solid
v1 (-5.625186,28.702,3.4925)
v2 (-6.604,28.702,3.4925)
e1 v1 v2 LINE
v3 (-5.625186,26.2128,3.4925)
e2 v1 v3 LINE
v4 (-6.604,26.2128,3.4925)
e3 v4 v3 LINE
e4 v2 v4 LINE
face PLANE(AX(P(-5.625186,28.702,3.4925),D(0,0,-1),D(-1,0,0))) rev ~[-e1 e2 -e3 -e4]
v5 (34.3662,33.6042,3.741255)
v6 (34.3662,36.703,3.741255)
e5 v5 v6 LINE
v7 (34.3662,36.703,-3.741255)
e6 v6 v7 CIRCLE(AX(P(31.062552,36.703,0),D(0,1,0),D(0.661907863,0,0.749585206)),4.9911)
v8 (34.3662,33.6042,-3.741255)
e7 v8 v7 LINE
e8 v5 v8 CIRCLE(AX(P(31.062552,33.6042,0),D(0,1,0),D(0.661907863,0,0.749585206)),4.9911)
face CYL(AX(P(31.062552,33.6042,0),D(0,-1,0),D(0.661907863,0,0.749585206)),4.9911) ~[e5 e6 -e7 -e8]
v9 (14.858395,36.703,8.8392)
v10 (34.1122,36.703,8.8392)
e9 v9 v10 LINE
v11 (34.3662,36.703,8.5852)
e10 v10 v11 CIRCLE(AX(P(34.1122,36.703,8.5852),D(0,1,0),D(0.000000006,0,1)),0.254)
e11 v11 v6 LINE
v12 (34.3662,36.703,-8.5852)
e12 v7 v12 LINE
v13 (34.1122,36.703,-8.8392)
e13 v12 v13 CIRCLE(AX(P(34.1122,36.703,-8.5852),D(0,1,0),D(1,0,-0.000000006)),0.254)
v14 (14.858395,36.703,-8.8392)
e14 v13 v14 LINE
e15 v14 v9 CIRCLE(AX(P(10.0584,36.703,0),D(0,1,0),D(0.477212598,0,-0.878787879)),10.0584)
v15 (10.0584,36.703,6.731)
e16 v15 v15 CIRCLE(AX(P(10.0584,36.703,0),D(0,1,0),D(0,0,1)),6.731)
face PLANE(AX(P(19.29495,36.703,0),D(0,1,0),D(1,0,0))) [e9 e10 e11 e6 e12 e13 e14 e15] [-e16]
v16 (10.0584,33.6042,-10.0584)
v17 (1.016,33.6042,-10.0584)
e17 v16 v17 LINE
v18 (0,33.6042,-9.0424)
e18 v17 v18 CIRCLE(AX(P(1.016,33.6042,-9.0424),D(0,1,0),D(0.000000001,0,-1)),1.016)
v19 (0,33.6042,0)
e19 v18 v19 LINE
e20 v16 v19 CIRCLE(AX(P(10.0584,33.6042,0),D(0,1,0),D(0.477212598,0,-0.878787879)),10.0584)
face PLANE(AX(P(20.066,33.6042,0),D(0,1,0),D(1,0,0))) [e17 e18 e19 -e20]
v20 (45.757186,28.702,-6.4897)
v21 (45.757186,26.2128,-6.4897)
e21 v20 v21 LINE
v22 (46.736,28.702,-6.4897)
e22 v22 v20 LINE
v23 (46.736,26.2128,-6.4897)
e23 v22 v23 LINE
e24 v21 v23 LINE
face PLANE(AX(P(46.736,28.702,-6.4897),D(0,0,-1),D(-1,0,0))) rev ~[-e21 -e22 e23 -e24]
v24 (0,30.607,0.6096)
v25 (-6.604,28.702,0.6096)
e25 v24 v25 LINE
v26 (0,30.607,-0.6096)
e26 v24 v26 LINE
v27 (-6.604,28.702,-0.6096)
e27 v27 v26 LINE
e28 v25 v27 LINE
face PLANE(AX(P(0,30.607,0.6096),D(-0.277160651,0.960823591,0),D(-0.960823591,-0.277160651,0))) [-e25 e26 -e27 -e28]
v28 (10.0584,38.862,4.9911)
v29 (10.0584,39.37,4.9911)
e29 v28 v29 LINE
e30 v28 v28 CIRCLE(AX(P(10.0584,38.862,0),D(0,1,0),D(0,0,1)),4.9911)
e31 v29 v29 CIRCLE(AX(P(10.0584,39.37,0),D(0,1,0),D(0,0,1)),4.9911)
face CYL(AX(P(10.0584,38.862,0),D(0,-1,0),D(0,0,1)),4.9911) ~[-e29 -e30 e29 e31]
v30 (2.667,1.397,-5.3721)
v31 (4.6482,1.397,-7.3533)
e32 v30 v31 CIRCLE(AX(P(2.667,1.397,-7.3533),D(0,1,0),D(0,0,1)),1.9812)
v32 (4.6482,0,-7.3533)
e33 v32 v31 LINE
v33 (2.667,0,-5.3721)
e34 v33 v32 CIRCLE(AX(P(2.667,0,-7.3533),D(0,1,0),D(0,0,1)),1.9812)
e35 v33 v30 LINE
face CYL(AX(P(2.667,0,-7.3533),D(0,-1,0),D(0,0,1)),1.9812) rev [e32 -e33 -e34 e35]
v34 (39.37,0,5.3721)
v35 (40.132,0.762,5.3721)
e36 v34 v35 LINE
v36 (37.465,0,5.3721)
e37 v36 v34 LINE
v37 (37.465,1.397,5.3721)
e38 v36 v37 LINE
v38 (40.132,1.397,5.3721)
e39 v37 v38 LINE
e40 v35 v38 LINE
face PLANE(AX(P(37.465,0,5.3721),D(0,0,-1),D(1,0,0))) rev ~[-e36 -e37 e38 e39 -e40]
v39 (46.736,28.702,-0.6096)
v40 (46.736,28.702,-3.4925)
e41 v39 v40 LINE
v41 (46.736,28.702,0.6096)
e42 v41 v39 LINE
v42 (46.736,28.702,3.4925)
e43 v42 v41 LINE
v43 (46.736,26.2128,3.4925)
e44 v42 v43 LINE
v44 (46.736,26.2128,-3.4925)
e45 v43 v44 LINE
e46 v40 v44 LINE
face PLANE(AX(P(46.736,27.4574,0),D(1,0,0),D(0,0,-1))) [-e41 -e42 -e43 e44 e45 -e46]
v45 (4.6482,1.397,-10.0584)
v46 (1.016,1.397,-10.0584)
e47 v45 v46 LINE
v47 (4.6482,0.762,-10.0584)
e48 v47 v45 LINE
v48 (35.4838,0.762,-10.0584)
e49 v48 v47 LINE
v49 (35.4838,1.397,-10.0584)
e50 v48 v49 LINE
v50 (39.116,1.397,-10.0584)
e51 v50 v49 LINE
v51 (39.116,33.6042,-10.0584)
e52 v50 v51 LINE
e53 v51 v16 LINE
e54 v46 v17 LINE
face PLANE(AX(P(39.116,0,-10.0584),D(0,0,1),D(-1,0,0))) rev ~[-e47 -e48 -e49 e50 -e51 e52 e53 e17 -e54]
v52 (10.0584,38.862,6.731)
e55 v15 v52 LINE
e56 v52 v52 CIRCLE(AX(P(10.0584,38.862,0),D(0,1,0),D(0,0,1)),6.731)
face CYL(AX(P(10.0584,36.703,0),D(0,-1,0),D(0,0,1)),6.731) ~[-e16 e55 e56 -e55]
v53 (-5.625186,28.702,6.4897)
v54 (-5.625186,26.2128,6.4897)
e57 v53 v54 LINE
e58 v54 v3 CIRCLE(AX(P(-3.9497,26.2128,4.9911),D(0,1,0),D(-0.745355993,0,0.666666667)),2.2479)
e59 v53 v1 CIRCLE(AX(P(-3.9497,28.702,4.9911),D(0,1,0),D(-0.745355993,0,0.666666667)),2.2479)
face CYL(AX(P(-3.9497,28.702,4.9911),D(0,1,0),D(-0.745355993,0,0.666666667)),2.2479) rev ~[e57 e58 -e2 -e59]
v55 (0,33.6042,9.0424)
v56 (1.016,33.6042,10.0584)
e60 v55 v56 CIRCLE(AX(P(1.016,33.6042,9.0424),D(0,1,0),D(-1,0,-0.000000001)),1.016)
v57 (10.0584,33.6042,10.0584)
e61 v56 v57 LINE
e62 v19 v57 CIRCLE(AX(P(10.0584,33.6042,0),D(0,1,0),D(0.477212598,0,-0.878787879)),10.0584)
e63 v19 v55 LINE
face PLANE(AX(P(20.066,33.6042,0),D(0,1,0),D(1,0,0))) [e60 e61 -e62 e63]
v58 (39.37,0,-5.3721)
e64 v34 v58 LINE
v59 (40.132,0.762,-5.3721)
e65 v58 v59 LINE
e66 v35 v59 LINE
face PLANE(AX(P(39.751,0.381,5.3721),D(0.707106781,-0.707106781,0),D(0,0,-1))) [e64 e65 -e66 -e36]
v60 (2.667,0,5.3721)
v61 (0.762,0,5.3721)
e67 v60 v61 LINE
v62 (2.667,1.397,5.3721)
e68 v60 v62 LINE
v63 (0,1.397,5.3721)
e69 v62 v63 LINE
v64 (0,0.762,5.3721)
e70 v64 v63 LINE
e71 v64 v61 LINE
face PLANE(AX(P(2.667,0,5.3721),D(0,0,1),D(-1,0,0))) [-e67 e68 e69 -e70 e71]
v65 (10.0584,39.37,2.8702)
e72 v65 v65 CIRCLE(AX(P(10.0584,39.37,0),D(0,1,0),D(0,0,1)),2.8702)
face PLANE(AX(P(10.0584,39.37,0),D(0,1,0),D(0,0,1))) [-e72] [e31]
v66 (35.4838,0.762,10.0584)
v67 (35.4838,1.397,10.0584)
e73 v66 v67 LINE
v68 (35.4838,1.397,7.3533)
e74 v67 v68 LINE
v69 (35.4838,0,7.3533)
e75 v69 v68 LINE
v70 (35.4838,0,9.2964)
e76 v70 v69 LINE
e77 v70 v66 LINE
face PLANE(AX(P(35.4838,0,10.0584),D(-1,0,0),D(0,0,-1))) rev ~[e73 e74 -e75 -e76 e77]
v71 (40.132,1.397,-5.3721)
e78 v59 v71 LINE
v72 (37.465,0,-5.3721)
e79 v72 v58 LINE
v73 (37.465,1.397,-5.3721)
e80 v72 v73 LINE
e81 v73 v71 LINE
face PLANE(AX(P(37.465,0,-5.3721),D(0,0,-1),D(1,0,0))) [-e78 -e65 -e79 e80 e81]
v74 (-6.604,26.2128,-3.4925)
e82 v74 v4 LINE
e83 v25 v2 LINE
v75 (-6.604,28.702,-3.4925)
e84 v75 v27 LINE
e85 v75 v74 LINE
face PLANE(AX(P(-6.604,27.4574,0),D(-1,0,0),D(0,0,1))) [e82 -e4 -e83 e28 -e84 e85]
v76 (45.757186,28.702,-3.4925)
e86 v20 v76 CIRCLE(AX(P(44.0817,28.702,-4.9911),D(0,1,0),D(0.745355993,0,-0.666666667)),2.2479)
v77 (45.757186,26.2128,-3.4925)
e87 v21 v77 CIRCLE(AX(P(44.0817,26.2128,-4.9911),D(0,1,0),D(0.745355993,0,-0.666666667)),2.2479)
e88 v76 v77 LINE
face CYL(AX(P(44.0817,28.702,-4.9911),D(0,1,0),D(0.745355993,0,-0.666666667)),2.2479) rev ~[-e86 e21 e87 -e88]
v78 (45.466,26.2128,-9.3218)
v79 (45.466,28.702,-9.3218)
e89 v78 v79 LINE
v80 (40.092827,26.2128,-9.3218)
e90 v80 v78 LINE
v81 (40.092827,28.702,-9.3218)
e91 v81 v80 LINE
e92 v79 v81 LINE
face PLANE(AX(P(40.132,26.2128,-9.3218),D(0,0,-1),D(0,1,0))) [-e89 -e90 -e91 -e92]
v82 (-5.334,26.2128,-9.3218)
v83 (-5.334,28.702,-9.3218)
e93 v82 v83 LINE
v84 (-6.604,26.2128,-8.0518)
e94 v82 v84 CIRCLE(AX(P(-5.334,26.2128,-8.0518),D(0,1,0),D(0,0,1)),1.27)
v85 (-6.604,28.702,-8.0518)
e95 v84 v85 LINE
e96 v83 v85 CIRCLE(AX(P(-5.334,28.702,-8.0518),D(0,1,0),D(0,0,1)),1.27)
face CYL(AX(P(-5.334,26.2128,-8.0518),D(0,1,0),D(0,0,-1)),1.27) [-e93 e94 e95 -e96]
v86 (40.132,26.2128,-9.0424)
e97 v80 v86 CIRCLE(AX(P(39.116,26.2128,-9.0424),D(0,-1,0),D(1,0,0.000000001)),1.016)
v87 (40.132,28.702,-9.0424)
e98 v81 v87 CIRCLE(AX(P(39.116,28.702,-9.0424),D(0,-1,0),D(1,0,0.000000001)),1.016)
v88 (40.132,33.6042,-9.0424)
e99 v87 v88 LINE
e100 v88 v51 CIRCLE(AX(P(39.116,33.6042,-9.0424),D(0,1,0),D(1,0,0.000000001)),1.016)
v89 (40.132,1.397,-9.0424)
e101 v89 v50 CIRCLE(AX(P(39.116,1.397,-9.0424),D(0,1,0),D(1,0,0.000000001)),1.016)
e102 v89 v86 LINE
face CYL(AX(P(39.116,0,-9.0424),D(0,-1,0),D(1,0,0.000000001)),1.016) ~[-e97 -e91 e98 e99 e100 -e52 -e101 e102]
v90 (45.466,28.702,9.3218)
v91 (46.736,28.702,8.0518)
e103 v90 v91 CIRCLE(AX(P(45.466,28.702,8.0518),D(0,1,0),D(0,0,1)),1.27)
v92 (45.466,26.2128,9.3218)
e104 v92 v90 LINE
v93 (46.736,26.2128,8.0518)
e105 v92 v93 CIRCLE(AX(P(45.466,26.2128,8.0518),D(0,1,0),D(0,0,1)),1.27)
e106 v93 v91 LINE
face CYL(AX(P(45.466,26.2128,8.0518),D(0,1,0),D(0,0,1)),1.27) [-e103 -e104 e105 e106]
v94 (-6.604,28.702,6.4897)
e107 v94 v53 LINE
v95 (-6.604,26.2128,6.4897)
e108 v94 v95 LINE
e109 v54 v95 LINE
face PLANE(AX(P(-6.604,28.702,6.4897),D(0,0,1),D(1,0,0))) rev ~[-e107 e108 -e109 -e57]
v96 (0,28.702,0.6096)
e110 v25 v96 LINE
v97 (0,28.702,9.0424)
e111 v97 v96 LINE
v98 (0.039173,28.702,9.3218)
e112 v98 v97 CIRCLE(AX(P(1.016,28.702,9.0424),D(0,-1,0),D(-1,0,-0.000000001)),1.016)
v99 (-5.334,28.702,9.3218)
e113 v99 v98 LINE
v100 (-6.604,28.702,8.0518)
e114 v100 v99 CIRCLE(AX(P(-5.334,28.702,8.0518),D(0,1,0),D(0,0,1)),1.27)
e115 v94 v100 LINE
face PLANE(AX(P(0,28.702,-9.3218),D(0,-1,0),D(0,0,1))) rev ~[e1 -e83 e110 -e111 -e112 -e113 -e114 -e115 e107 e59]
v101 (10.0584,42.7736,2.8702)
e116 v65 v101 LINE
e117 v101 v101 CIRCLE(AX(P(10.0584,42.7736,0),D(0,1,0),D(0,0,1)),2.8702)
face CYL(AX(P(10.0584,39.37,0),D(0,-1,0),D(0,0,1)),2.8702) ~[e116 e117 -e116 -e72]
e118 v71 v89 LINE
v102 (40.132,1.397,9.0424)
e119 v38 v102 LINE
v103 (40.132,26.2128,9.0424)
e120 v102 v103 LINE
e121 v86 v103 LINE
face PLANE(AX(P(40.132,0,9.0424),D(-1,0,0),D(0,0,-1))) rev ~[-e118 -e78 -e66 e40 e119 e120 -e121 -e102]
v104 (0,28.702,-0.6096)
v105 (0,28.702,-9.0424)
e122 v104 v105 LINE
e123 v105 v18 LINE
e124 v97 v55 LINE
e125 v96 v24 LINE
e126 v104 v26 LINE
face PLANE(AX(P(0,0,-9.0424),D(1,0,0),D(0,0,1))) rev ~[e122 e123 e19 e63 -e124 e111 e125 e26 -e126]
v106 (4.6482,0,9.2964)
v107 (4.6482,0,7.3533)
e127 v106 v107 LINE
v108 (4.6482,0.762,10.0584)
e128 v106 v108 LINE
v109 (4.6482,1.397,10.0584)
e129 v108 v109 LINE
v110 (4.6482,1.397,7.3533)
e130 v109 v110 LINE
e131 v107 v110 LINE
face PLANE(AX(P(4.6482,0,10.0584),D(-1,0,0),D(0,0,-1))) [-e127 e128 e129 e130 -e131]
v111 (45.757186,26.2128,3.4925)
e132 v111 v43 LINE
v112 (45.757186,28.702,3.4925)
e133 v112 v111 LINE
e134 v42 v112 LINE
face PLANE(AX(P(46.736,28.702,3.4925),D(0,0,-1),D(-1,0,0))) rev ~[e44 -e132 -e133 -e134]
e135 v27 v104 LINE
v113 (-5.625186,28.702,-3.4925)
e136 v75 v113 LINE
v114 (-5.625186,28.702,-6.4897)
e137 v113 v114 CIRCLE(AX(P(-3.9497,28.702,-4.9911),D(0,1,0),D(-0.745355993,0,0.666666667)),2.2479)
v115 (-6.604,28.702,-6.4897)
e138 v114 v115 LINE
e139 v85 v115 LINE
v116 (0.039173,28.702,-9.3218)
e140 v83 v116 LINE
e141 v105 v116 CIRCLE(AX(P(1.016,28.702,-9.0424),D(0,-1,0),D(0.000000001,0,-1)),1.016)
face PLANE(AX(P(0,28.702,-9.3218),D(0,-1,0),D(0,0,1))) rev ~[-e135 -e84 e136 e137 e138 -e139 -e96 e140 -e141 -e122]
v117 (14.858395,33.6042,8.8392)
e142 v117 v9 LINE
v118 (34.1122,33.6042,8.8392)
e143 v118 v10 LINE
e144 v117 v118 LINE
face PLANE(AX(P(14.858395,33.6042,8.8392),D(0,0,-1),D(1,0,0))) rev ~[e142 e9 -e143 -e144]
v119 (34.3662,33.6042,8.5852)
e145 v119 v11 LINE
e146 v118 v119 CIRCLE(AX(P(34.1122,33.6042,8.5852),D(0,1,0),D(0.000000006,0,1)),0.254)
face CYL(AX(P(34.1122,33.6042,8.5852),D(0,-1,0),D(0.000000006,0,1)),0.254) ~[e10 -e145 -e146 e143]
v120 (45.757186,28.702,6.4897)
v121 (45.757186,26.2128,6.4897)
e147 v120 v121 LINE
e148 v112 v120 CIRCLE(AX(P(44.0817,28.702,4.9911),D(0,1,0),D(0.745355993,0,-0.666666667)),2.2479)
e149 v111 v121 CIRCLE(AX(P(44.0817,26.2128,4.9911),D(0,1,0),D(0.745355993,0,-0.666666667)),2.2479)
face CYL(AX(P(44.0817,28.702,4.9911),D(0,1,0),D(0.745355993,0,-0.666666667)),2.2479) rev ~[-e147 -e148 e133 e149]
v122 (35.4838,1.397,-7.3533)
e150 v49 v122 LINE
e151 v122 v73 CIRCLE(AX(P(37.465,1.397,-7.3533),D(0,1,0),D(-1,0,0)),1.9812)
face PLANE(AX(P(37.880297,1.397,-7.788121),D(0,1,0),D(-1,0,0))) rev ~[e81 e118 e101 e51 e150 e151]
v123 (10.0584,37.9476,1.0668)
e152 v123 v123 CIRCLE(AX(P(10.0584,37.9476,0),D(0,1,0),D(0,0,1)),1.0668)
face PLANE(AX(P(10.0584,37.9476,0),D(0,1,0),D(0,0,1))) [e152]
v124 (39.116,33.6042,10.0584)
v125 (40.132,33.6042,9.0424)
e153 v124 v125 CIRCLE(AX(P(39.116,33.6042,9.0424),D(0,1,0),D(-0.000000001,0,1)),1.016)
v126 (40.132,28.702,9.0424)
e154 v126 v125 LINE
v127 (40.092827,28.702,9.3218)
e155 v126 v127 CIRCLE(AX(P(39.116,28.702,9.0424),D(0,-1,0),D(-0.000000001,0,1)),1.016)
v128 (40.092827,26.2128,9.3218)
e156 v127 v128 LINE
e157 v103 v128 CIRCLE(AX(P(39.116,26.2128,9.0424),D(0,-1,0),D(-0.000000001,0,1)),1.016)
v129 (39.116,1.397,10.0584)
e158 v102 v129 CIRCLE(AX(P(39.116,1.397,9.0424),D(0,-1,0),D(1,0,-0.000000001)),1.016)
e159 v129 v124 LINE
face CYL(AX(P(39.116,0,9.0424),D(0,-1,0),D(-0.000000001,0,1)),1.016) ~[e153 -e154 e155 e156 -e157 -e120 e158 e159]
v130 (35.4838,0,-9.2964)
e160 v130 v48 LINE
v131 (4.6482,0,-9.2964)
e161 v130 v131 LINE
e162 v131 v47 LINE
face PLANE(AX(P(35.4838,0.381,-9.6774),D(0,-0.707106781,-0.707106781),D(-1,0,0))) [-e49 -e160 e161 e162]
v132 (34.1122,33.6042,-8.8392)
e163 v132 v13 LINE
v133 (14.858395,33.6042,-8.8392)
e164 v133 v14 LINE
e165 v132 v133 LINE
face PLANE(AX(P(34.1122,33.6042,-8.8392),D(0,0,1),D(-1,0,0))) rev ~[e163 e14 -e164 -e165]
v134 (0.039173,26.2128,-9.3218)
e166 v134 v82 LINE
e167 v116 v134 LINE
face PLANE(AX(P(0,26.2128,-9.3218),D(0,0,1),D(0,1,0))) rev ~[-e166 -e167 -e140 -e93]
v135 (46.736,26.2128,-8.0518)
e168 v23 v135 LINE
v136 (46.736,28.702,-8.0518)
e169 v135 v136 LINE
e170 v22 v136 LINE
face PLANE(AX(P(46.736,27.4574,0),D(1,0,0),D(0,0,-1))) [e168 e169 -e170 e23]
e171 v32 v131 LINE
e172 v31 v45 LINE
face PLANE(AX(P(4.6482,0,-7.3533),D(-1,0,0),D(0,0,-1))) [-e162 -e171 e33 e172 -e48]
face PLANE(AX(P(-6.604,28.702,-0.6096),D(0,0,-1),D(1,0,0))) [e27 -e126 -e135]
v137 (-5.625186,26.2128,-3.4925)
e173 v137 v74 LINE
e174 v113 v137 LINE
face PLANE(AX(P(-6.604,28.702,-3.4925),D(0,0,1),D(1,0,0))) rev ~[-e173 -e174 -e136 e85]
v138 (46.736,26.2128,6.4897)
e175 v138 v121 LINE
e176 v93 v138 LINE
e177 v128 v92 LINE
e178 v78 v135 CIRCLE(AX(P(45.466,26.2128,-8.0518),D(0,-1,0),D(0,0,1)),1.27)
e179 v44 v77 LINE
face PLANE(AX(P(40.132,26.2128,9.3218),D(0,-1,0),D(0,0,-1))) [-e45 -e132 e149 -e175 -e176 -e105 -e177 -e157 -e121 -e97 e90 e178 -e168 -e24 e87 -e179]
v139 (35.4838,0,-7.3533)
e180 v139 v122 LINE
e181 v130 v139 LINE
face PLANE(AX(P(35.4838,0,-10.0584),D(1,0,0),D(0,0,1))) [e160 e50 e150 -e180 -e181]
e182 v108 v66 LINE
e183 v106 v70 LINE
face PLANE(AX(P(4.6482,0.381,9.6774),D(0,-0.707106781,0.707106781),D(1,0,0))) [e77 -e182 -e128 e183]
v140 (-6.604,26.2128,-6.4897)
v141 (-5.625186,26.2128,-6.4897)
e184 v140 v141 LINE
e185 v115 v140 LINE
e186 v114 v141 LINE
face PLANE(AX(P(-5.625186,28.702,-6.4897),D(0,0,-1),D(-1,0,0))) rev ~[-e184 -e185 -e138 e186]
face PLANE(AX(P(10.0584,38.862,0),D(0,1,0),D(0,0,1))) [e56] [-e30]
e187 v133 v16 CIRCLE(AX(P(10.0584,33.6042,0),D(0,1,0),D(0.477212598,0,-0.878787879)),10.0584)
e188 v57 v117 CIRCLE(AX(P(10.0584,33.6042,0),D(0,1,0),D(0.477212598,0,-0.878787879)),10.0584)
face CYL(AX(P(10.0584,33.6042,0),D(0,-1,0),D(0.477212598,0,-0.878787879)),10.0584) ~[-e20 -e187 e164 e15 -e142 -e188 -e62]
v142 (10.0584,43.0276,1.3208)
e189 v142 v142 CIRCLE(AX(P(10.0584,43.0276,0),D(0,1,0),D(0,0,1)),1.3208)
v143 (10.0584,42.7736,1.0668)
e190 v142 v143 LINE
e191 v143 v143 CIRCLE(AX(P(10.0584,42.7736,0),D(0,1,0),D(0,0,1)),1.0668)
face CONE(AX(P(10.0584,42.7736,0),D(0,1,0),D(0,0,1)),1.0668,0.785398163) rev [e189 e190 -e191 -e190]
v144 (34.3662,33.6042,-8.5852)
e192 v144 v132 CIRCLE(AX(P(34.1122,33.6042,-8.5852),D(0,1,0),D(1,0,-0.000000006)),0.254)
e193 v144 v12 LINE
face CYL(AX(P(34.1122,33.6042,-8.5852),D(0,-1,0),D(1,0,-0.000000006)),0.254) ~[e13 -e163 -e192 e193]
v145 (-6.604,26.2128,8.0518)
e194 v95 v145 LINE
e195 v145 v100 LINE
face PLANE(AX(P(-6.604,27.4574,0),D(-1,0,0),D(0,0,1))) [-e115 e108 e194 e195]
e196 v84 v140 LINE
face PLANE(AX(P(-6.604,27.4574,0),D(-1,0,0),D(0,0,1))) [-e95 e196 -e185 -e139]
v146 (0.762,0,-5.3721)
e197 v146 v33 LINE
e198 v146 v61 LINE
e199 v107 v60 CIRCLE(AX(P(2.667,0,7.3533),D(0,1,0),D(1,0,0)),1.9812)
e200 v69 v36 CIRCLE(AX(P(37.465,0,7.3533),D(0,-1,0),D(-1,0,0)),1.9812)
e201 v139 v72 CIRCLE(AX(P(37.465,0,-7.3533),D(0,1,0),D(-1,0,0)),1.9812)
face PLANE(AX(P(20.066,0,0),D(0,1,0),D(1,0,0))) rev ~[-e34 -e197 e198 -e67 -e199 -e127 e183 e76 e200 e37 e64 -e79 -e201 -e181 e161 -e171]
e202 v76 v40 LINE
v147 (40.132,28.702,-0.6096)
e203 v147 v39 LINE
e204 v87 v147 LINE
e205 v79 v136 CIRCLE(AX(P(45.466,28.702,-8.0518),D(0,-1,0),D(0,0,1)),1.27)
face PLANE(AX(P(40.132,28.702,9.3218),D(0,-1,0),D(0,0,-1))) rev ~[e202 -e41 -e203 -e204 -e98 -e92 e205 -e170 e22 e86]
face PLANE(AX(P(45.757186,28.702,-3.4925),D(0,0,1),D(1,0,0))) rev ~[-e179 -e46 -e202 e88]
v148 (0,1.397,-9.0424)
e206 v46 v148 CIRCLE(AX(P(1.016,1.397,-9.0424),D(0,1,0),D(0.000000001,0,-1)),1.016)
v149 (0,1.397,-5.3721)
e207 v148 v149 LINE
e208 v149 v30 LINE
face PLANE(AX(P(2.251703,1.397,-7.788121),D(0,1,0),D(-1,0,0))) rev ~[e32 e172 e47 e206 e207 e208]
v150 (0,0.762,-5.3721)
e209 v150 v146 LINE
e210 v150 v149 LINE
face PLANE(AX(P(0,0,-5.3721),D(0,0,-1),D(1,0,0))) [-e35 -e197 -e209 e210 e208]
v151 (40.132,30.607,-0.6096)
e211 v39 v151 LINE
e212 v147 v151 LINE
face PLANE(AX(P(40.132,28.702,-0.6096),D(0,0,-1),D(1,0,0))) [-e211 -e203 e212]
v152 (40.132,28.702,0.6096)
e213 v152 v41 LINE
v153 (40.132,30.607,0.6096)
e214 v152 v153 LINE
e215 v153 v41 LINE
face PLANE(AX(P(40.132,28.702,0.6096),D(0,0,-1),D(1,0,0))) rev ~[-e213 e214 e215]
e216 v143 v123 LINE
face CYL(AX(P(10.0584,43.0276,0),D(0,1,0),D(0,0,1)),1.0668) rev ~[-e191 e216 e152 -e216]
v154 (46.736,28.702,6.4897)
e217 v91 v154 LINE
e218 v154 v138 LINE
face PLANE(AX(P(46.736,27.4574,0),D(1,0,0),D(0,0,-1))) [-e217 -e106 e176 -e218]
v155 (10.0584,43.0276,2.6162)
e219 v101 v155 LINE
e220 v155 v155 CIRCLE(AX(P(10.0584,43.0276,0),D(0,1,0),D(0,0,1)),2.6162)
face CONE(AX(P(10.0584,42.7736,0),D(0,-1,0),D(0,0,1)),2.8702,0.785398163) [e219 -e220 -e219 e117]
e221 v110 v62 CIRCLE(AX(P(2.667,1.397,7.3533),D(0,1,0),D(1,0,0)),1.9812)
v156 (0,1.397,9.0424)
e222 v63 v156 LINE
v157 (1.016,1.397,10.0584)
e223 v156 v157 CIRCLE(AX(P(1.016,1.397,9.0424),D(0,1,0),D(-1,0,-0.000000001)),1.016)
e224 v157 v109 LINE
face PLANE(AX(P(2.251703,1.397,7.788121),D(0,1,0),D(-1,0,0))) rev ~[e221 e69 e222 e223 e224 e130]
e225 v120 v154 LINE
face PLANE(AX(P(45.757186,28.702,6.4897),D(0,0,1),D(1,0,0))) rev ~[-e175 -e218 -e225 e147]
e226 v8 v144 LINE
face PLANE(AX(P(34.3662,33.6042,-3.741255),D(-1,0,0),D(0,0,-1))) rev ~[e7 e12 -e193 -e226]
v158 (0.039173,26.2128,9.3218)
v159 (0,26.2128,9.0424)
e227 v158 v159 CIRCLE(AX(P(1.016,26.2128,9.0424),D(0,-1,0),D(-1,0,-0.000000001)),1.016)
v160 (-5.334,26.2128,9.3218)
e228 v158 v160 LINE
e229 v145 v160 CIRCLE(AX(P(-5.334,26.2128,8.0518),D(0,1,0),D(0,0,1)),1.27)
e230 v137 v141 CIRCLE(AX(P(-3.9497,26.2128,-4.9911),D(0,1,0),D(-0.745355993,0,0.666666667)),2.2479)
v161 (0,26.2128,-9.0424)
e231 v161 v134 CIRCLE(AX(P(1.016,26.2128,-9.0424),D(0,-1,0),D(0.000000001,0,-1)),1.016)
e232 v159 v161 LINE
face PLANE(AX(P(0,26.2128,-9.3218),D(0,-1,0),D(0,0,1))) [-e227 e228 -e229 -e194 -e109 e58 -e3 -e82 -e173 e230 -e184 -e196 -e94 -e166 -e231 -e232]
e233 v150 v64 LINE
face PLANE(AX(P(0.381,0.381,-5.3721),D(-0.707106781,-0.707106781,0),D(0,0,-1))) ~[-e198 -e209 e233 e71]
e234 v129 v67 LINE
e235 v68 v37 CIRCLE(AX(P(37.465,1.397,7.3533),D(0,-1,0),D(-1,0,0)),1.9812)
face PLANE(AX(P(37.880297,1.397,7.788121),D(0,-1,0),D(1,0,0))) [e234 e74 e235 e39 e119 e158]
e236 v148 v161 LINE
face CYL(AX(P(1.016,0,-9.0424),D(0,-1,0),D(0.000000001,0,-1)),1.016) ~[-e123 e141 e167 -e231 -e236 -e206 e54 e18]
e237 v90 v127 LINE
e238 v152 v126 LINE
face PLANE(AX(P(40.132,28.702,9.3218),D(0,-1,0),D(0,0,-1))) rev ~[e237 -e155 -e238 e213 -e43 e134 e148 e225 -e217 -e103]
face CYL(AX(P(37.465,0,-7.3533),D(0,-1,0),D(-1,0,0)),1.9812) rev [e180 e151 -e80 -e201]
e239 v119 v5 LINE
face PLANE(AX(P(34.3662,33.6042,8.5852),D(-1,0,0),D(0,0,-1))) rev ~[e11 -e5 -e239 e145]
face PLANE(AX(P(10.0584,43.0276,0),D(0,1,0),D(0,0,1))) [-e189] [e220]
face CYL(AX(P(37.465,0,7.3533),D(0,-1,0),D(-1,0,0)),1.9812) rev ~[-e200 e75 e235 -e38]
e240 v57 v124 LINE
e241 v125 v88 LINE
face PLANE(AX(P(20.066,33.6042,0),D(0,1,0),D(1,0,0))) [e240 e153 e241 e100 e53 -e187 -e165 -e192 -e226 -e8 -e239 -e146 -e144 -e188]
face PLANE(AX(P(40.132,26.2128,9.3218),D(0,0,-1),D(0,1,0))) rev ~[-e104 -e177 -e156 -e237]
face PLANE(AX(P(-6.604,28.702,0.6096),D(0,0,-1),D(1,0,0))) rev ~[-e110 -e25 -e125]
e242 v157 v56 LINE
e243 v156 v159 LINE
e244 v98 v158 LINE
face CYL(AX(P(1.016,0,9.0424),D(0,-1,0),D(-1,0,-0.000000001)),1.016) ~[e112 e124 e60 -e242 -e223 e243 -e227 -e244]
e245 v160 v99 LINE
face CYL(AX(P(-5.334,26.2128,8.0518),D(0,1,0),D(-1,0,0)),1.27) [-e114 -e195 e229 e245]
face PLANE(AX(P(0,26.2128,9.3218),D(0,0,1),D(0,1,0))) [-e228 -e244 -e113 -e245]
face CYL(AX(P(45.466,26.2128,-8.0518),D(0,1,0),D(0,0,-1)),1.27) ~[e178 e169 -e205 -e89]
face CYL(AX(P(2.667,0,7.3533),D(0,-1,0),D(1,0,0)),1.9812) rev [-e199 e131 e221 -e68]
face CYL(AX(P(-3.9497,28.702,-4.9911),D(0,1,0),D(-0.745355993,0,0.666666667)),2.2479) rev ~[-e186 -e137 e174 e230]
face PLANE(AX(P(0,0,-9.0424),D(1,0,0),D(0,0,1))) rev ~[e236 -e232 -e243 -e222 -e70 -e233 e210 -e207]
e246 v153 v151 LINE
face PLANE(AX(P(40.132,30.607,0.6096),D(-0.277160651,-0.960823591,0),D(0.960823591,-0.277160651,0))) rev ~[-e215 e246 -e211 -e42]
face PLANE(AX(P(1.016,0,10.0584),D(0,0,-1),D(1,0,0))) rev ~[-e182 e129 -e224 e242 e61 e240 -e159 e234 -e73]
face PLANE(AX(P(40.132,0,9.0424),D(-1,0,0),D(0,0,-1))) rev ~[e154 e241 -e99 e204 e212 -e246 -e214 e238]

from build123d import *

# Parameters (mm, degrees)
BOSS_EXTRUDE1_DEPTH = 33.6042
CUT_EXTRUDE1_DEPTH  = 1.397
CHAMFER1_SIZE       = 0.762
SKETCH3_W           = 18.6436
SKETCH3_H           = 2.4892
BOSS_EXTRUDE2_DEPTH = 6.604
SKETCH4_W           = 18.6436
SKETCH4_H           = 2.4892
BOSS_EXTRUDE3_DEPTH = 6.604
FILLET1_R           = 1.27
CUT_EXTRUDE2_DEPTH  = 3.048
SKETCH6_W           = 6.604
SKETCH6_H           = 1.2192
BOSS_EXTRUDE4_DEPTH = 1.905
CUT_EXTRUDE3_DEPTH  = 1.905
BOSS_EXTRUDE5_DEPTH = 3.0988
SKETCH9_R           = 6.731
BOSS_EXTRUDE6_DEPTH = 2.159
SKETCH10_R          = 4.9911
BOSS_EXTRUDE7_DEPTH = 0.508
SKETCH11_R          = 2.8702
BOSS_EXTRUDE8_DEPTH = 3.6576
SKETCH12_R          = 1.0668
CUT_EXTRUDE4_DEPTH  = 5.08
CHAMFER2_SIZE       = 0.254


with BuildPart() as part:
    # Sketch1 → Boss-Extrude1 (new body)
    with BuildSketch(Plane(origin=(0, 0, 0), x_dir=(1, 0, 0), z_dir=(0, 1, 0))):
        with BuildLine():
            Line((0, 9.0424), (0, -9.0424))
            ThreePointArc((0, -9.0424), (0.29757951, -9.76082049), (1.016, -10.0584))
            Line((1.016, -10.0584), (39.116, -10.0584))
            ThreePointArc((39.116, -10.0584), (39.83442049, -9.76082049), (40.132, -9.0424))
            Line((40.132, -9.0424), (40.132, 9.0424))
            ThreePointArc((40.132, 9.0424), (39.83442049, 9.76082049), (39.116, 10.0584))
            Line((39.116, 10.0584), (1.016, 10.0584))
            ThreePointArc((1.016, 10.0584), (0.29757951, 9.76082049), (0, 9.0424))
        make_face()
    extrude(amount=BOSS_EXTRUDE1_DEPTH)

    # Sketch2 → Cut-Extrude1 (cut)
    with BuildSketch(Plane.XZ):
        with BuildLine():
            Line((4.6482, 10.0584), (4.6482, 7.3533))
            ThreePointArc((4.6482, 7.3533), (4.067919955, 5.952380045), (2.667, 5.3721))
            Line((2.667, 5.3721), (0, 5.3721))
            Line((0, 5.3721), (0, 9.0424))
            ThreePointArc((0, 9.0424), (0.29757951, 9.76082049), (1.016, 10.0584))
            Line((1.016, 10.0584), (4.6482, 10.0584))
        make_face()
        with BuildLine():
            Line((35.4838, 10.0584), (35.4838, 7.3533))
            ThreePointArc((35.4838, 7.3533), (36.064080045, 5.952380045), (37.465, 5.3721))
            Line((37.465, 5.3721), (40.132, 5.3721))
            Line((40.132, 5.3721), (40.132, 9.0424))
            ThreePointArc((40.132, 9.0424), (39.83442049, 9.76082049), (39.116, 10.0584))
            Line((39.116, 10.0584), (35.4838, 10.0584))
        make_face()
        with BuildLine():
            Line((0, -5.3721), (2.667, -5.3721))
            ThreePointArc((2.667, -5.3721), (4.067919955, -5.952380045), (4.6482, -7.3533))
            Line((4.6482, -7.3533), (4.6482, -10.0584))
            Line((4.6482, -10.0584), (1.016, -10.0584))
            ThreePointArc((1.016, -10.0584), (0.29757951, -9.76082049), (0, -9.0424))
            Line((0, -9.0424), (0, -5.3721))
        make_face()
        with BuildLine():
            Line((37.465, -5.3721), (40.132, -5.3721))
            Line((40.132, -5.3721), (40.132, -9.0424))
            ThreePointArc((40.132, -9.0424), (39.83442049, -9.76082049), (39.116, -10.0584))
            Line((39.116, -10.0584), (35.4838, -10.0584))
            Line((35.4838, -10.0584), (35.4838, -7.3533))
            ThreePointArc((35.4838, -7.3533), (36.064080045, -5.952380045), (37.465, -5.3721))
        make_face()
    extrude(amount=-CUT_EXTRUDE1_DEPTH, mode=Mode.SUBTRACT)

    # Chamfer1
    chamfer1_edges = [part.edges().sort_by_distance(p)[0] for p in [
        (20.066, 0, 10.0584),
        (0, 0, 0),
        (40.132, 0, 0),
        (20.066, 0, -10.0584),
    ]]
    chamfer(chamfer1_edges, length=CHAMFER1_SIZE)

    # Sketch3 → Boss-Extrude2 (add, symmetric)
    with BuildSketch(Plane(origin=(40.132, 0, 0), x_dir=(0, 0, -1), z_dir=(1, 0, 0))):
        with Locations((0, 27.4574)):
            Rectangle(SKETCH3_W, SKETCH3_H)
    extrude(amount=BOSS_EXTRUDE2_DEPTH, both=True)

    # Sketch4 → Boss-Extrude3 (add, symmetric)
    with BuildSketch(Plane.ZY):
        with Locations((0, 27.4574)):
            Rectangle(SKETCH4_W, SKETCH4_H)
    extrude(amount=BOSS_EXTRUDE3_DEPTH, both=True)

    # Fillet1
    fillet1_edges = [part.edges().sort_by_distance(p)[0] for p in [
        (46.736, 27.4574, 9.3218),
        (46.736, 27.4574, -9.3218),
        (-6.604, 27.4574, -9.3218),
        (-6.604, 27.4574, 9.3218),
    ]]
    fillet(fillet1_edges, radius=FILLET1_R)

    # Sketch5 → Cut-Extrude2 (cut)
    with BuildSketch(Plane(origin=(0, 28.702, 0), x_dir=(1, 0, 0), z_dir=(0, 1, 0))):
        with BuildLine():
            Line((-6.604, 3.4925), (-5.625185736, 3.4925))
            ThreePointArc((-5.625185736, 3.4925), (-1.7018, 4.9911), (-5.625185736, 6.4897))
            Line((-5.625185736, 6.4897), (-6.604, 6.4897))
            Line((-6.604, 6.4897), (-6.604, 3.4925))
        make_face()
        with BuildLine():
            Line((-6.604, -6.4897), (-5.625185736, -6.4897))
            ThreePointArc((-5.625185736, -6.4897), (-1.7018, -4.9911), (-5.625185736, -3.4925))
            Line((-5.625185736, -3.4925), (-6.604, -3.4925))
            Line((-6.604, -3.4925), (-6.604, -6.4897))
        make_face()
        with BuildLine():
            Line((45.757185736, -6.4897), (46.736, -6.4897))
            Line((46.736, -6.4897), (46.736, -3.4925))
            Line((46.736, -3.4925), (45.757185736, -3.4925))
            ThreePointArc((45.757185736, -3.4925), (41.8338, -4.9911), (45.757185736, -6.4897))
        make_face()
        with BuildLine():
            Line((45.757185736, 3.4925), (46.736, 3.4925))
            Line((46.736, 3.4925), (46.736, 6.4897))
            Line((46.736, 6.4897), (45.757185736, 6.4897))
            ThreePointArc((45.757185736, 6.4897), (41.8338, 4.9911), (45.757185736, 3.4925))
        make_face()
    extrude(amount=-CUT_EXTRUDE2_DEPTH, mode=Mode.SUBTRACT)

    # Sketch6 → Boss-Extrude4 (add)
    with BuildSketch(Plane(origin=(0, 28.702, 0), x_dir=(1, 0, 0), z_dir=(0, 1, 0))):
        with Locations((-3.302, 0)):
            Rectangle(SKETCH6_W, SKETCH6_H)
        with Locations((43.434, 0)):
            Rectangle(SKETCH6_W, SKETCH6_H)
    extrude(amount=BOSS_EXTRUDE4_DEPTH)

    # Sketch7 → Cut-Extrude3 (cut)
    with BuildSketch(Plane.XY.offset(0.6096)):
        Polygon((40.132, 30.607), (46.736, 28.702), (46.736, 30.607), align=None)
        Polygon((0, 30.607), (-6.604, 28.702), (-6.604, 30.607), align=None)
    extrude(amount=-CUT_EXTRUDE3_DEPTH, mode=Mode.SUBTRACT)

    # Sketch8 → Boss-Extrude5 (add)
    with BuildSketch(Plane(origin=(0, 33.6042, 0), x_dir=(1, 0, 0), z_dir=(0, 1, 0))):
        with BuildLine():
            Line((14.8583952, -8.8392), (34.1122, -8.8392))
            ThreePointArc((34.1122, -8.8392), (34.291805122, -8.764805122), (34.3662, -8.5852))
            Line((34.3662, -8.5852), (34.3662, -3.741254719))
            ThreePointArc((34.3662, -3.741254719), (36.053651663, 0), (34.3662, 3.741254719))
            Line((34.3662, 3.741254719), (34.3662, 8.5852))
            ThreePointArc((34.3662, 8.5852), (34.291805122, 8.764805122), (34.1122, 8.8392))
            Line((34.1122, 8.8392), (14.8583952, 8.8392))
            ThreePointArc((14.8583952, 8.8392), (0, 0), (14.8583952, -8.8392))
        make_face()
    extrude(amount=BOSS_EXTRUDE5_DEPTH)

    # Sketch9 → Boss-Extrude6 (add)
    with BuildSketch(Plane(origin=(0, 36.703, 0), x_dir=(1, 0, 0), z_dir=(0, 1, 0))):
        with Locations(Location((10.0584, 0, 0), (0, 0, 270))):
            Circle(SKETCH9_R)
    extrude(amount=BOSS_EXTRUDE6_DEPTH)

    # Sketch10 → Boss-Extrude7 (add)
    with BuildSketch(Plane(origin=(0, 38.862, 0), x_dir=(1, 0, 0), z_dir=(0, 1, 0))):
        with Locations(Location((10.0584, 0, 0), (0, 0, 270))):
            Circle(SKETCH10_R)
    extrude(amount=BOSS_EXTRUDE7_DEPTH)

    # Sketch11 → Boss-Extrude8 (add)
    with BuildSketch(Plane(origin=(0, 39.37, 0), x_dir=(1, 0, 0), z_dir=(0, 1, 0))):
        with Locations(Location((10.0584, 0, 0), (0, 0, 270))):
            Circle(SKETCH11_R)
    extrude(amount=BOSS_EXTRUDE8_DEPTH)

    # Sketch12 → Cut-Extrude4 (cut)
    with BuildSketch(Plane(origin=(0, 43.0276, 0), x_dir=(1, 0, 0), z_dir=(0, 1, 0))):
        with Locations(Location((10.0584, 0, 0), (0, 0, 270))):
            Circle(SKETCH12_R)
    extrude(amount=-CUT_EXTRUDE4_DEPTH, mode=Mode.SUBTRACT)

    # Chamfer2
    chamfer2_edges = [part.edges().sort_by_distance(p)[0] for p in [
        (10.0584, 43.0276, -2.8702),
        (10.0584, 43.0276, -1.0668),
    ]]
    chamfer(chamfer2_edges, length=CHAMFER2_SIZE)


solid = part.part
